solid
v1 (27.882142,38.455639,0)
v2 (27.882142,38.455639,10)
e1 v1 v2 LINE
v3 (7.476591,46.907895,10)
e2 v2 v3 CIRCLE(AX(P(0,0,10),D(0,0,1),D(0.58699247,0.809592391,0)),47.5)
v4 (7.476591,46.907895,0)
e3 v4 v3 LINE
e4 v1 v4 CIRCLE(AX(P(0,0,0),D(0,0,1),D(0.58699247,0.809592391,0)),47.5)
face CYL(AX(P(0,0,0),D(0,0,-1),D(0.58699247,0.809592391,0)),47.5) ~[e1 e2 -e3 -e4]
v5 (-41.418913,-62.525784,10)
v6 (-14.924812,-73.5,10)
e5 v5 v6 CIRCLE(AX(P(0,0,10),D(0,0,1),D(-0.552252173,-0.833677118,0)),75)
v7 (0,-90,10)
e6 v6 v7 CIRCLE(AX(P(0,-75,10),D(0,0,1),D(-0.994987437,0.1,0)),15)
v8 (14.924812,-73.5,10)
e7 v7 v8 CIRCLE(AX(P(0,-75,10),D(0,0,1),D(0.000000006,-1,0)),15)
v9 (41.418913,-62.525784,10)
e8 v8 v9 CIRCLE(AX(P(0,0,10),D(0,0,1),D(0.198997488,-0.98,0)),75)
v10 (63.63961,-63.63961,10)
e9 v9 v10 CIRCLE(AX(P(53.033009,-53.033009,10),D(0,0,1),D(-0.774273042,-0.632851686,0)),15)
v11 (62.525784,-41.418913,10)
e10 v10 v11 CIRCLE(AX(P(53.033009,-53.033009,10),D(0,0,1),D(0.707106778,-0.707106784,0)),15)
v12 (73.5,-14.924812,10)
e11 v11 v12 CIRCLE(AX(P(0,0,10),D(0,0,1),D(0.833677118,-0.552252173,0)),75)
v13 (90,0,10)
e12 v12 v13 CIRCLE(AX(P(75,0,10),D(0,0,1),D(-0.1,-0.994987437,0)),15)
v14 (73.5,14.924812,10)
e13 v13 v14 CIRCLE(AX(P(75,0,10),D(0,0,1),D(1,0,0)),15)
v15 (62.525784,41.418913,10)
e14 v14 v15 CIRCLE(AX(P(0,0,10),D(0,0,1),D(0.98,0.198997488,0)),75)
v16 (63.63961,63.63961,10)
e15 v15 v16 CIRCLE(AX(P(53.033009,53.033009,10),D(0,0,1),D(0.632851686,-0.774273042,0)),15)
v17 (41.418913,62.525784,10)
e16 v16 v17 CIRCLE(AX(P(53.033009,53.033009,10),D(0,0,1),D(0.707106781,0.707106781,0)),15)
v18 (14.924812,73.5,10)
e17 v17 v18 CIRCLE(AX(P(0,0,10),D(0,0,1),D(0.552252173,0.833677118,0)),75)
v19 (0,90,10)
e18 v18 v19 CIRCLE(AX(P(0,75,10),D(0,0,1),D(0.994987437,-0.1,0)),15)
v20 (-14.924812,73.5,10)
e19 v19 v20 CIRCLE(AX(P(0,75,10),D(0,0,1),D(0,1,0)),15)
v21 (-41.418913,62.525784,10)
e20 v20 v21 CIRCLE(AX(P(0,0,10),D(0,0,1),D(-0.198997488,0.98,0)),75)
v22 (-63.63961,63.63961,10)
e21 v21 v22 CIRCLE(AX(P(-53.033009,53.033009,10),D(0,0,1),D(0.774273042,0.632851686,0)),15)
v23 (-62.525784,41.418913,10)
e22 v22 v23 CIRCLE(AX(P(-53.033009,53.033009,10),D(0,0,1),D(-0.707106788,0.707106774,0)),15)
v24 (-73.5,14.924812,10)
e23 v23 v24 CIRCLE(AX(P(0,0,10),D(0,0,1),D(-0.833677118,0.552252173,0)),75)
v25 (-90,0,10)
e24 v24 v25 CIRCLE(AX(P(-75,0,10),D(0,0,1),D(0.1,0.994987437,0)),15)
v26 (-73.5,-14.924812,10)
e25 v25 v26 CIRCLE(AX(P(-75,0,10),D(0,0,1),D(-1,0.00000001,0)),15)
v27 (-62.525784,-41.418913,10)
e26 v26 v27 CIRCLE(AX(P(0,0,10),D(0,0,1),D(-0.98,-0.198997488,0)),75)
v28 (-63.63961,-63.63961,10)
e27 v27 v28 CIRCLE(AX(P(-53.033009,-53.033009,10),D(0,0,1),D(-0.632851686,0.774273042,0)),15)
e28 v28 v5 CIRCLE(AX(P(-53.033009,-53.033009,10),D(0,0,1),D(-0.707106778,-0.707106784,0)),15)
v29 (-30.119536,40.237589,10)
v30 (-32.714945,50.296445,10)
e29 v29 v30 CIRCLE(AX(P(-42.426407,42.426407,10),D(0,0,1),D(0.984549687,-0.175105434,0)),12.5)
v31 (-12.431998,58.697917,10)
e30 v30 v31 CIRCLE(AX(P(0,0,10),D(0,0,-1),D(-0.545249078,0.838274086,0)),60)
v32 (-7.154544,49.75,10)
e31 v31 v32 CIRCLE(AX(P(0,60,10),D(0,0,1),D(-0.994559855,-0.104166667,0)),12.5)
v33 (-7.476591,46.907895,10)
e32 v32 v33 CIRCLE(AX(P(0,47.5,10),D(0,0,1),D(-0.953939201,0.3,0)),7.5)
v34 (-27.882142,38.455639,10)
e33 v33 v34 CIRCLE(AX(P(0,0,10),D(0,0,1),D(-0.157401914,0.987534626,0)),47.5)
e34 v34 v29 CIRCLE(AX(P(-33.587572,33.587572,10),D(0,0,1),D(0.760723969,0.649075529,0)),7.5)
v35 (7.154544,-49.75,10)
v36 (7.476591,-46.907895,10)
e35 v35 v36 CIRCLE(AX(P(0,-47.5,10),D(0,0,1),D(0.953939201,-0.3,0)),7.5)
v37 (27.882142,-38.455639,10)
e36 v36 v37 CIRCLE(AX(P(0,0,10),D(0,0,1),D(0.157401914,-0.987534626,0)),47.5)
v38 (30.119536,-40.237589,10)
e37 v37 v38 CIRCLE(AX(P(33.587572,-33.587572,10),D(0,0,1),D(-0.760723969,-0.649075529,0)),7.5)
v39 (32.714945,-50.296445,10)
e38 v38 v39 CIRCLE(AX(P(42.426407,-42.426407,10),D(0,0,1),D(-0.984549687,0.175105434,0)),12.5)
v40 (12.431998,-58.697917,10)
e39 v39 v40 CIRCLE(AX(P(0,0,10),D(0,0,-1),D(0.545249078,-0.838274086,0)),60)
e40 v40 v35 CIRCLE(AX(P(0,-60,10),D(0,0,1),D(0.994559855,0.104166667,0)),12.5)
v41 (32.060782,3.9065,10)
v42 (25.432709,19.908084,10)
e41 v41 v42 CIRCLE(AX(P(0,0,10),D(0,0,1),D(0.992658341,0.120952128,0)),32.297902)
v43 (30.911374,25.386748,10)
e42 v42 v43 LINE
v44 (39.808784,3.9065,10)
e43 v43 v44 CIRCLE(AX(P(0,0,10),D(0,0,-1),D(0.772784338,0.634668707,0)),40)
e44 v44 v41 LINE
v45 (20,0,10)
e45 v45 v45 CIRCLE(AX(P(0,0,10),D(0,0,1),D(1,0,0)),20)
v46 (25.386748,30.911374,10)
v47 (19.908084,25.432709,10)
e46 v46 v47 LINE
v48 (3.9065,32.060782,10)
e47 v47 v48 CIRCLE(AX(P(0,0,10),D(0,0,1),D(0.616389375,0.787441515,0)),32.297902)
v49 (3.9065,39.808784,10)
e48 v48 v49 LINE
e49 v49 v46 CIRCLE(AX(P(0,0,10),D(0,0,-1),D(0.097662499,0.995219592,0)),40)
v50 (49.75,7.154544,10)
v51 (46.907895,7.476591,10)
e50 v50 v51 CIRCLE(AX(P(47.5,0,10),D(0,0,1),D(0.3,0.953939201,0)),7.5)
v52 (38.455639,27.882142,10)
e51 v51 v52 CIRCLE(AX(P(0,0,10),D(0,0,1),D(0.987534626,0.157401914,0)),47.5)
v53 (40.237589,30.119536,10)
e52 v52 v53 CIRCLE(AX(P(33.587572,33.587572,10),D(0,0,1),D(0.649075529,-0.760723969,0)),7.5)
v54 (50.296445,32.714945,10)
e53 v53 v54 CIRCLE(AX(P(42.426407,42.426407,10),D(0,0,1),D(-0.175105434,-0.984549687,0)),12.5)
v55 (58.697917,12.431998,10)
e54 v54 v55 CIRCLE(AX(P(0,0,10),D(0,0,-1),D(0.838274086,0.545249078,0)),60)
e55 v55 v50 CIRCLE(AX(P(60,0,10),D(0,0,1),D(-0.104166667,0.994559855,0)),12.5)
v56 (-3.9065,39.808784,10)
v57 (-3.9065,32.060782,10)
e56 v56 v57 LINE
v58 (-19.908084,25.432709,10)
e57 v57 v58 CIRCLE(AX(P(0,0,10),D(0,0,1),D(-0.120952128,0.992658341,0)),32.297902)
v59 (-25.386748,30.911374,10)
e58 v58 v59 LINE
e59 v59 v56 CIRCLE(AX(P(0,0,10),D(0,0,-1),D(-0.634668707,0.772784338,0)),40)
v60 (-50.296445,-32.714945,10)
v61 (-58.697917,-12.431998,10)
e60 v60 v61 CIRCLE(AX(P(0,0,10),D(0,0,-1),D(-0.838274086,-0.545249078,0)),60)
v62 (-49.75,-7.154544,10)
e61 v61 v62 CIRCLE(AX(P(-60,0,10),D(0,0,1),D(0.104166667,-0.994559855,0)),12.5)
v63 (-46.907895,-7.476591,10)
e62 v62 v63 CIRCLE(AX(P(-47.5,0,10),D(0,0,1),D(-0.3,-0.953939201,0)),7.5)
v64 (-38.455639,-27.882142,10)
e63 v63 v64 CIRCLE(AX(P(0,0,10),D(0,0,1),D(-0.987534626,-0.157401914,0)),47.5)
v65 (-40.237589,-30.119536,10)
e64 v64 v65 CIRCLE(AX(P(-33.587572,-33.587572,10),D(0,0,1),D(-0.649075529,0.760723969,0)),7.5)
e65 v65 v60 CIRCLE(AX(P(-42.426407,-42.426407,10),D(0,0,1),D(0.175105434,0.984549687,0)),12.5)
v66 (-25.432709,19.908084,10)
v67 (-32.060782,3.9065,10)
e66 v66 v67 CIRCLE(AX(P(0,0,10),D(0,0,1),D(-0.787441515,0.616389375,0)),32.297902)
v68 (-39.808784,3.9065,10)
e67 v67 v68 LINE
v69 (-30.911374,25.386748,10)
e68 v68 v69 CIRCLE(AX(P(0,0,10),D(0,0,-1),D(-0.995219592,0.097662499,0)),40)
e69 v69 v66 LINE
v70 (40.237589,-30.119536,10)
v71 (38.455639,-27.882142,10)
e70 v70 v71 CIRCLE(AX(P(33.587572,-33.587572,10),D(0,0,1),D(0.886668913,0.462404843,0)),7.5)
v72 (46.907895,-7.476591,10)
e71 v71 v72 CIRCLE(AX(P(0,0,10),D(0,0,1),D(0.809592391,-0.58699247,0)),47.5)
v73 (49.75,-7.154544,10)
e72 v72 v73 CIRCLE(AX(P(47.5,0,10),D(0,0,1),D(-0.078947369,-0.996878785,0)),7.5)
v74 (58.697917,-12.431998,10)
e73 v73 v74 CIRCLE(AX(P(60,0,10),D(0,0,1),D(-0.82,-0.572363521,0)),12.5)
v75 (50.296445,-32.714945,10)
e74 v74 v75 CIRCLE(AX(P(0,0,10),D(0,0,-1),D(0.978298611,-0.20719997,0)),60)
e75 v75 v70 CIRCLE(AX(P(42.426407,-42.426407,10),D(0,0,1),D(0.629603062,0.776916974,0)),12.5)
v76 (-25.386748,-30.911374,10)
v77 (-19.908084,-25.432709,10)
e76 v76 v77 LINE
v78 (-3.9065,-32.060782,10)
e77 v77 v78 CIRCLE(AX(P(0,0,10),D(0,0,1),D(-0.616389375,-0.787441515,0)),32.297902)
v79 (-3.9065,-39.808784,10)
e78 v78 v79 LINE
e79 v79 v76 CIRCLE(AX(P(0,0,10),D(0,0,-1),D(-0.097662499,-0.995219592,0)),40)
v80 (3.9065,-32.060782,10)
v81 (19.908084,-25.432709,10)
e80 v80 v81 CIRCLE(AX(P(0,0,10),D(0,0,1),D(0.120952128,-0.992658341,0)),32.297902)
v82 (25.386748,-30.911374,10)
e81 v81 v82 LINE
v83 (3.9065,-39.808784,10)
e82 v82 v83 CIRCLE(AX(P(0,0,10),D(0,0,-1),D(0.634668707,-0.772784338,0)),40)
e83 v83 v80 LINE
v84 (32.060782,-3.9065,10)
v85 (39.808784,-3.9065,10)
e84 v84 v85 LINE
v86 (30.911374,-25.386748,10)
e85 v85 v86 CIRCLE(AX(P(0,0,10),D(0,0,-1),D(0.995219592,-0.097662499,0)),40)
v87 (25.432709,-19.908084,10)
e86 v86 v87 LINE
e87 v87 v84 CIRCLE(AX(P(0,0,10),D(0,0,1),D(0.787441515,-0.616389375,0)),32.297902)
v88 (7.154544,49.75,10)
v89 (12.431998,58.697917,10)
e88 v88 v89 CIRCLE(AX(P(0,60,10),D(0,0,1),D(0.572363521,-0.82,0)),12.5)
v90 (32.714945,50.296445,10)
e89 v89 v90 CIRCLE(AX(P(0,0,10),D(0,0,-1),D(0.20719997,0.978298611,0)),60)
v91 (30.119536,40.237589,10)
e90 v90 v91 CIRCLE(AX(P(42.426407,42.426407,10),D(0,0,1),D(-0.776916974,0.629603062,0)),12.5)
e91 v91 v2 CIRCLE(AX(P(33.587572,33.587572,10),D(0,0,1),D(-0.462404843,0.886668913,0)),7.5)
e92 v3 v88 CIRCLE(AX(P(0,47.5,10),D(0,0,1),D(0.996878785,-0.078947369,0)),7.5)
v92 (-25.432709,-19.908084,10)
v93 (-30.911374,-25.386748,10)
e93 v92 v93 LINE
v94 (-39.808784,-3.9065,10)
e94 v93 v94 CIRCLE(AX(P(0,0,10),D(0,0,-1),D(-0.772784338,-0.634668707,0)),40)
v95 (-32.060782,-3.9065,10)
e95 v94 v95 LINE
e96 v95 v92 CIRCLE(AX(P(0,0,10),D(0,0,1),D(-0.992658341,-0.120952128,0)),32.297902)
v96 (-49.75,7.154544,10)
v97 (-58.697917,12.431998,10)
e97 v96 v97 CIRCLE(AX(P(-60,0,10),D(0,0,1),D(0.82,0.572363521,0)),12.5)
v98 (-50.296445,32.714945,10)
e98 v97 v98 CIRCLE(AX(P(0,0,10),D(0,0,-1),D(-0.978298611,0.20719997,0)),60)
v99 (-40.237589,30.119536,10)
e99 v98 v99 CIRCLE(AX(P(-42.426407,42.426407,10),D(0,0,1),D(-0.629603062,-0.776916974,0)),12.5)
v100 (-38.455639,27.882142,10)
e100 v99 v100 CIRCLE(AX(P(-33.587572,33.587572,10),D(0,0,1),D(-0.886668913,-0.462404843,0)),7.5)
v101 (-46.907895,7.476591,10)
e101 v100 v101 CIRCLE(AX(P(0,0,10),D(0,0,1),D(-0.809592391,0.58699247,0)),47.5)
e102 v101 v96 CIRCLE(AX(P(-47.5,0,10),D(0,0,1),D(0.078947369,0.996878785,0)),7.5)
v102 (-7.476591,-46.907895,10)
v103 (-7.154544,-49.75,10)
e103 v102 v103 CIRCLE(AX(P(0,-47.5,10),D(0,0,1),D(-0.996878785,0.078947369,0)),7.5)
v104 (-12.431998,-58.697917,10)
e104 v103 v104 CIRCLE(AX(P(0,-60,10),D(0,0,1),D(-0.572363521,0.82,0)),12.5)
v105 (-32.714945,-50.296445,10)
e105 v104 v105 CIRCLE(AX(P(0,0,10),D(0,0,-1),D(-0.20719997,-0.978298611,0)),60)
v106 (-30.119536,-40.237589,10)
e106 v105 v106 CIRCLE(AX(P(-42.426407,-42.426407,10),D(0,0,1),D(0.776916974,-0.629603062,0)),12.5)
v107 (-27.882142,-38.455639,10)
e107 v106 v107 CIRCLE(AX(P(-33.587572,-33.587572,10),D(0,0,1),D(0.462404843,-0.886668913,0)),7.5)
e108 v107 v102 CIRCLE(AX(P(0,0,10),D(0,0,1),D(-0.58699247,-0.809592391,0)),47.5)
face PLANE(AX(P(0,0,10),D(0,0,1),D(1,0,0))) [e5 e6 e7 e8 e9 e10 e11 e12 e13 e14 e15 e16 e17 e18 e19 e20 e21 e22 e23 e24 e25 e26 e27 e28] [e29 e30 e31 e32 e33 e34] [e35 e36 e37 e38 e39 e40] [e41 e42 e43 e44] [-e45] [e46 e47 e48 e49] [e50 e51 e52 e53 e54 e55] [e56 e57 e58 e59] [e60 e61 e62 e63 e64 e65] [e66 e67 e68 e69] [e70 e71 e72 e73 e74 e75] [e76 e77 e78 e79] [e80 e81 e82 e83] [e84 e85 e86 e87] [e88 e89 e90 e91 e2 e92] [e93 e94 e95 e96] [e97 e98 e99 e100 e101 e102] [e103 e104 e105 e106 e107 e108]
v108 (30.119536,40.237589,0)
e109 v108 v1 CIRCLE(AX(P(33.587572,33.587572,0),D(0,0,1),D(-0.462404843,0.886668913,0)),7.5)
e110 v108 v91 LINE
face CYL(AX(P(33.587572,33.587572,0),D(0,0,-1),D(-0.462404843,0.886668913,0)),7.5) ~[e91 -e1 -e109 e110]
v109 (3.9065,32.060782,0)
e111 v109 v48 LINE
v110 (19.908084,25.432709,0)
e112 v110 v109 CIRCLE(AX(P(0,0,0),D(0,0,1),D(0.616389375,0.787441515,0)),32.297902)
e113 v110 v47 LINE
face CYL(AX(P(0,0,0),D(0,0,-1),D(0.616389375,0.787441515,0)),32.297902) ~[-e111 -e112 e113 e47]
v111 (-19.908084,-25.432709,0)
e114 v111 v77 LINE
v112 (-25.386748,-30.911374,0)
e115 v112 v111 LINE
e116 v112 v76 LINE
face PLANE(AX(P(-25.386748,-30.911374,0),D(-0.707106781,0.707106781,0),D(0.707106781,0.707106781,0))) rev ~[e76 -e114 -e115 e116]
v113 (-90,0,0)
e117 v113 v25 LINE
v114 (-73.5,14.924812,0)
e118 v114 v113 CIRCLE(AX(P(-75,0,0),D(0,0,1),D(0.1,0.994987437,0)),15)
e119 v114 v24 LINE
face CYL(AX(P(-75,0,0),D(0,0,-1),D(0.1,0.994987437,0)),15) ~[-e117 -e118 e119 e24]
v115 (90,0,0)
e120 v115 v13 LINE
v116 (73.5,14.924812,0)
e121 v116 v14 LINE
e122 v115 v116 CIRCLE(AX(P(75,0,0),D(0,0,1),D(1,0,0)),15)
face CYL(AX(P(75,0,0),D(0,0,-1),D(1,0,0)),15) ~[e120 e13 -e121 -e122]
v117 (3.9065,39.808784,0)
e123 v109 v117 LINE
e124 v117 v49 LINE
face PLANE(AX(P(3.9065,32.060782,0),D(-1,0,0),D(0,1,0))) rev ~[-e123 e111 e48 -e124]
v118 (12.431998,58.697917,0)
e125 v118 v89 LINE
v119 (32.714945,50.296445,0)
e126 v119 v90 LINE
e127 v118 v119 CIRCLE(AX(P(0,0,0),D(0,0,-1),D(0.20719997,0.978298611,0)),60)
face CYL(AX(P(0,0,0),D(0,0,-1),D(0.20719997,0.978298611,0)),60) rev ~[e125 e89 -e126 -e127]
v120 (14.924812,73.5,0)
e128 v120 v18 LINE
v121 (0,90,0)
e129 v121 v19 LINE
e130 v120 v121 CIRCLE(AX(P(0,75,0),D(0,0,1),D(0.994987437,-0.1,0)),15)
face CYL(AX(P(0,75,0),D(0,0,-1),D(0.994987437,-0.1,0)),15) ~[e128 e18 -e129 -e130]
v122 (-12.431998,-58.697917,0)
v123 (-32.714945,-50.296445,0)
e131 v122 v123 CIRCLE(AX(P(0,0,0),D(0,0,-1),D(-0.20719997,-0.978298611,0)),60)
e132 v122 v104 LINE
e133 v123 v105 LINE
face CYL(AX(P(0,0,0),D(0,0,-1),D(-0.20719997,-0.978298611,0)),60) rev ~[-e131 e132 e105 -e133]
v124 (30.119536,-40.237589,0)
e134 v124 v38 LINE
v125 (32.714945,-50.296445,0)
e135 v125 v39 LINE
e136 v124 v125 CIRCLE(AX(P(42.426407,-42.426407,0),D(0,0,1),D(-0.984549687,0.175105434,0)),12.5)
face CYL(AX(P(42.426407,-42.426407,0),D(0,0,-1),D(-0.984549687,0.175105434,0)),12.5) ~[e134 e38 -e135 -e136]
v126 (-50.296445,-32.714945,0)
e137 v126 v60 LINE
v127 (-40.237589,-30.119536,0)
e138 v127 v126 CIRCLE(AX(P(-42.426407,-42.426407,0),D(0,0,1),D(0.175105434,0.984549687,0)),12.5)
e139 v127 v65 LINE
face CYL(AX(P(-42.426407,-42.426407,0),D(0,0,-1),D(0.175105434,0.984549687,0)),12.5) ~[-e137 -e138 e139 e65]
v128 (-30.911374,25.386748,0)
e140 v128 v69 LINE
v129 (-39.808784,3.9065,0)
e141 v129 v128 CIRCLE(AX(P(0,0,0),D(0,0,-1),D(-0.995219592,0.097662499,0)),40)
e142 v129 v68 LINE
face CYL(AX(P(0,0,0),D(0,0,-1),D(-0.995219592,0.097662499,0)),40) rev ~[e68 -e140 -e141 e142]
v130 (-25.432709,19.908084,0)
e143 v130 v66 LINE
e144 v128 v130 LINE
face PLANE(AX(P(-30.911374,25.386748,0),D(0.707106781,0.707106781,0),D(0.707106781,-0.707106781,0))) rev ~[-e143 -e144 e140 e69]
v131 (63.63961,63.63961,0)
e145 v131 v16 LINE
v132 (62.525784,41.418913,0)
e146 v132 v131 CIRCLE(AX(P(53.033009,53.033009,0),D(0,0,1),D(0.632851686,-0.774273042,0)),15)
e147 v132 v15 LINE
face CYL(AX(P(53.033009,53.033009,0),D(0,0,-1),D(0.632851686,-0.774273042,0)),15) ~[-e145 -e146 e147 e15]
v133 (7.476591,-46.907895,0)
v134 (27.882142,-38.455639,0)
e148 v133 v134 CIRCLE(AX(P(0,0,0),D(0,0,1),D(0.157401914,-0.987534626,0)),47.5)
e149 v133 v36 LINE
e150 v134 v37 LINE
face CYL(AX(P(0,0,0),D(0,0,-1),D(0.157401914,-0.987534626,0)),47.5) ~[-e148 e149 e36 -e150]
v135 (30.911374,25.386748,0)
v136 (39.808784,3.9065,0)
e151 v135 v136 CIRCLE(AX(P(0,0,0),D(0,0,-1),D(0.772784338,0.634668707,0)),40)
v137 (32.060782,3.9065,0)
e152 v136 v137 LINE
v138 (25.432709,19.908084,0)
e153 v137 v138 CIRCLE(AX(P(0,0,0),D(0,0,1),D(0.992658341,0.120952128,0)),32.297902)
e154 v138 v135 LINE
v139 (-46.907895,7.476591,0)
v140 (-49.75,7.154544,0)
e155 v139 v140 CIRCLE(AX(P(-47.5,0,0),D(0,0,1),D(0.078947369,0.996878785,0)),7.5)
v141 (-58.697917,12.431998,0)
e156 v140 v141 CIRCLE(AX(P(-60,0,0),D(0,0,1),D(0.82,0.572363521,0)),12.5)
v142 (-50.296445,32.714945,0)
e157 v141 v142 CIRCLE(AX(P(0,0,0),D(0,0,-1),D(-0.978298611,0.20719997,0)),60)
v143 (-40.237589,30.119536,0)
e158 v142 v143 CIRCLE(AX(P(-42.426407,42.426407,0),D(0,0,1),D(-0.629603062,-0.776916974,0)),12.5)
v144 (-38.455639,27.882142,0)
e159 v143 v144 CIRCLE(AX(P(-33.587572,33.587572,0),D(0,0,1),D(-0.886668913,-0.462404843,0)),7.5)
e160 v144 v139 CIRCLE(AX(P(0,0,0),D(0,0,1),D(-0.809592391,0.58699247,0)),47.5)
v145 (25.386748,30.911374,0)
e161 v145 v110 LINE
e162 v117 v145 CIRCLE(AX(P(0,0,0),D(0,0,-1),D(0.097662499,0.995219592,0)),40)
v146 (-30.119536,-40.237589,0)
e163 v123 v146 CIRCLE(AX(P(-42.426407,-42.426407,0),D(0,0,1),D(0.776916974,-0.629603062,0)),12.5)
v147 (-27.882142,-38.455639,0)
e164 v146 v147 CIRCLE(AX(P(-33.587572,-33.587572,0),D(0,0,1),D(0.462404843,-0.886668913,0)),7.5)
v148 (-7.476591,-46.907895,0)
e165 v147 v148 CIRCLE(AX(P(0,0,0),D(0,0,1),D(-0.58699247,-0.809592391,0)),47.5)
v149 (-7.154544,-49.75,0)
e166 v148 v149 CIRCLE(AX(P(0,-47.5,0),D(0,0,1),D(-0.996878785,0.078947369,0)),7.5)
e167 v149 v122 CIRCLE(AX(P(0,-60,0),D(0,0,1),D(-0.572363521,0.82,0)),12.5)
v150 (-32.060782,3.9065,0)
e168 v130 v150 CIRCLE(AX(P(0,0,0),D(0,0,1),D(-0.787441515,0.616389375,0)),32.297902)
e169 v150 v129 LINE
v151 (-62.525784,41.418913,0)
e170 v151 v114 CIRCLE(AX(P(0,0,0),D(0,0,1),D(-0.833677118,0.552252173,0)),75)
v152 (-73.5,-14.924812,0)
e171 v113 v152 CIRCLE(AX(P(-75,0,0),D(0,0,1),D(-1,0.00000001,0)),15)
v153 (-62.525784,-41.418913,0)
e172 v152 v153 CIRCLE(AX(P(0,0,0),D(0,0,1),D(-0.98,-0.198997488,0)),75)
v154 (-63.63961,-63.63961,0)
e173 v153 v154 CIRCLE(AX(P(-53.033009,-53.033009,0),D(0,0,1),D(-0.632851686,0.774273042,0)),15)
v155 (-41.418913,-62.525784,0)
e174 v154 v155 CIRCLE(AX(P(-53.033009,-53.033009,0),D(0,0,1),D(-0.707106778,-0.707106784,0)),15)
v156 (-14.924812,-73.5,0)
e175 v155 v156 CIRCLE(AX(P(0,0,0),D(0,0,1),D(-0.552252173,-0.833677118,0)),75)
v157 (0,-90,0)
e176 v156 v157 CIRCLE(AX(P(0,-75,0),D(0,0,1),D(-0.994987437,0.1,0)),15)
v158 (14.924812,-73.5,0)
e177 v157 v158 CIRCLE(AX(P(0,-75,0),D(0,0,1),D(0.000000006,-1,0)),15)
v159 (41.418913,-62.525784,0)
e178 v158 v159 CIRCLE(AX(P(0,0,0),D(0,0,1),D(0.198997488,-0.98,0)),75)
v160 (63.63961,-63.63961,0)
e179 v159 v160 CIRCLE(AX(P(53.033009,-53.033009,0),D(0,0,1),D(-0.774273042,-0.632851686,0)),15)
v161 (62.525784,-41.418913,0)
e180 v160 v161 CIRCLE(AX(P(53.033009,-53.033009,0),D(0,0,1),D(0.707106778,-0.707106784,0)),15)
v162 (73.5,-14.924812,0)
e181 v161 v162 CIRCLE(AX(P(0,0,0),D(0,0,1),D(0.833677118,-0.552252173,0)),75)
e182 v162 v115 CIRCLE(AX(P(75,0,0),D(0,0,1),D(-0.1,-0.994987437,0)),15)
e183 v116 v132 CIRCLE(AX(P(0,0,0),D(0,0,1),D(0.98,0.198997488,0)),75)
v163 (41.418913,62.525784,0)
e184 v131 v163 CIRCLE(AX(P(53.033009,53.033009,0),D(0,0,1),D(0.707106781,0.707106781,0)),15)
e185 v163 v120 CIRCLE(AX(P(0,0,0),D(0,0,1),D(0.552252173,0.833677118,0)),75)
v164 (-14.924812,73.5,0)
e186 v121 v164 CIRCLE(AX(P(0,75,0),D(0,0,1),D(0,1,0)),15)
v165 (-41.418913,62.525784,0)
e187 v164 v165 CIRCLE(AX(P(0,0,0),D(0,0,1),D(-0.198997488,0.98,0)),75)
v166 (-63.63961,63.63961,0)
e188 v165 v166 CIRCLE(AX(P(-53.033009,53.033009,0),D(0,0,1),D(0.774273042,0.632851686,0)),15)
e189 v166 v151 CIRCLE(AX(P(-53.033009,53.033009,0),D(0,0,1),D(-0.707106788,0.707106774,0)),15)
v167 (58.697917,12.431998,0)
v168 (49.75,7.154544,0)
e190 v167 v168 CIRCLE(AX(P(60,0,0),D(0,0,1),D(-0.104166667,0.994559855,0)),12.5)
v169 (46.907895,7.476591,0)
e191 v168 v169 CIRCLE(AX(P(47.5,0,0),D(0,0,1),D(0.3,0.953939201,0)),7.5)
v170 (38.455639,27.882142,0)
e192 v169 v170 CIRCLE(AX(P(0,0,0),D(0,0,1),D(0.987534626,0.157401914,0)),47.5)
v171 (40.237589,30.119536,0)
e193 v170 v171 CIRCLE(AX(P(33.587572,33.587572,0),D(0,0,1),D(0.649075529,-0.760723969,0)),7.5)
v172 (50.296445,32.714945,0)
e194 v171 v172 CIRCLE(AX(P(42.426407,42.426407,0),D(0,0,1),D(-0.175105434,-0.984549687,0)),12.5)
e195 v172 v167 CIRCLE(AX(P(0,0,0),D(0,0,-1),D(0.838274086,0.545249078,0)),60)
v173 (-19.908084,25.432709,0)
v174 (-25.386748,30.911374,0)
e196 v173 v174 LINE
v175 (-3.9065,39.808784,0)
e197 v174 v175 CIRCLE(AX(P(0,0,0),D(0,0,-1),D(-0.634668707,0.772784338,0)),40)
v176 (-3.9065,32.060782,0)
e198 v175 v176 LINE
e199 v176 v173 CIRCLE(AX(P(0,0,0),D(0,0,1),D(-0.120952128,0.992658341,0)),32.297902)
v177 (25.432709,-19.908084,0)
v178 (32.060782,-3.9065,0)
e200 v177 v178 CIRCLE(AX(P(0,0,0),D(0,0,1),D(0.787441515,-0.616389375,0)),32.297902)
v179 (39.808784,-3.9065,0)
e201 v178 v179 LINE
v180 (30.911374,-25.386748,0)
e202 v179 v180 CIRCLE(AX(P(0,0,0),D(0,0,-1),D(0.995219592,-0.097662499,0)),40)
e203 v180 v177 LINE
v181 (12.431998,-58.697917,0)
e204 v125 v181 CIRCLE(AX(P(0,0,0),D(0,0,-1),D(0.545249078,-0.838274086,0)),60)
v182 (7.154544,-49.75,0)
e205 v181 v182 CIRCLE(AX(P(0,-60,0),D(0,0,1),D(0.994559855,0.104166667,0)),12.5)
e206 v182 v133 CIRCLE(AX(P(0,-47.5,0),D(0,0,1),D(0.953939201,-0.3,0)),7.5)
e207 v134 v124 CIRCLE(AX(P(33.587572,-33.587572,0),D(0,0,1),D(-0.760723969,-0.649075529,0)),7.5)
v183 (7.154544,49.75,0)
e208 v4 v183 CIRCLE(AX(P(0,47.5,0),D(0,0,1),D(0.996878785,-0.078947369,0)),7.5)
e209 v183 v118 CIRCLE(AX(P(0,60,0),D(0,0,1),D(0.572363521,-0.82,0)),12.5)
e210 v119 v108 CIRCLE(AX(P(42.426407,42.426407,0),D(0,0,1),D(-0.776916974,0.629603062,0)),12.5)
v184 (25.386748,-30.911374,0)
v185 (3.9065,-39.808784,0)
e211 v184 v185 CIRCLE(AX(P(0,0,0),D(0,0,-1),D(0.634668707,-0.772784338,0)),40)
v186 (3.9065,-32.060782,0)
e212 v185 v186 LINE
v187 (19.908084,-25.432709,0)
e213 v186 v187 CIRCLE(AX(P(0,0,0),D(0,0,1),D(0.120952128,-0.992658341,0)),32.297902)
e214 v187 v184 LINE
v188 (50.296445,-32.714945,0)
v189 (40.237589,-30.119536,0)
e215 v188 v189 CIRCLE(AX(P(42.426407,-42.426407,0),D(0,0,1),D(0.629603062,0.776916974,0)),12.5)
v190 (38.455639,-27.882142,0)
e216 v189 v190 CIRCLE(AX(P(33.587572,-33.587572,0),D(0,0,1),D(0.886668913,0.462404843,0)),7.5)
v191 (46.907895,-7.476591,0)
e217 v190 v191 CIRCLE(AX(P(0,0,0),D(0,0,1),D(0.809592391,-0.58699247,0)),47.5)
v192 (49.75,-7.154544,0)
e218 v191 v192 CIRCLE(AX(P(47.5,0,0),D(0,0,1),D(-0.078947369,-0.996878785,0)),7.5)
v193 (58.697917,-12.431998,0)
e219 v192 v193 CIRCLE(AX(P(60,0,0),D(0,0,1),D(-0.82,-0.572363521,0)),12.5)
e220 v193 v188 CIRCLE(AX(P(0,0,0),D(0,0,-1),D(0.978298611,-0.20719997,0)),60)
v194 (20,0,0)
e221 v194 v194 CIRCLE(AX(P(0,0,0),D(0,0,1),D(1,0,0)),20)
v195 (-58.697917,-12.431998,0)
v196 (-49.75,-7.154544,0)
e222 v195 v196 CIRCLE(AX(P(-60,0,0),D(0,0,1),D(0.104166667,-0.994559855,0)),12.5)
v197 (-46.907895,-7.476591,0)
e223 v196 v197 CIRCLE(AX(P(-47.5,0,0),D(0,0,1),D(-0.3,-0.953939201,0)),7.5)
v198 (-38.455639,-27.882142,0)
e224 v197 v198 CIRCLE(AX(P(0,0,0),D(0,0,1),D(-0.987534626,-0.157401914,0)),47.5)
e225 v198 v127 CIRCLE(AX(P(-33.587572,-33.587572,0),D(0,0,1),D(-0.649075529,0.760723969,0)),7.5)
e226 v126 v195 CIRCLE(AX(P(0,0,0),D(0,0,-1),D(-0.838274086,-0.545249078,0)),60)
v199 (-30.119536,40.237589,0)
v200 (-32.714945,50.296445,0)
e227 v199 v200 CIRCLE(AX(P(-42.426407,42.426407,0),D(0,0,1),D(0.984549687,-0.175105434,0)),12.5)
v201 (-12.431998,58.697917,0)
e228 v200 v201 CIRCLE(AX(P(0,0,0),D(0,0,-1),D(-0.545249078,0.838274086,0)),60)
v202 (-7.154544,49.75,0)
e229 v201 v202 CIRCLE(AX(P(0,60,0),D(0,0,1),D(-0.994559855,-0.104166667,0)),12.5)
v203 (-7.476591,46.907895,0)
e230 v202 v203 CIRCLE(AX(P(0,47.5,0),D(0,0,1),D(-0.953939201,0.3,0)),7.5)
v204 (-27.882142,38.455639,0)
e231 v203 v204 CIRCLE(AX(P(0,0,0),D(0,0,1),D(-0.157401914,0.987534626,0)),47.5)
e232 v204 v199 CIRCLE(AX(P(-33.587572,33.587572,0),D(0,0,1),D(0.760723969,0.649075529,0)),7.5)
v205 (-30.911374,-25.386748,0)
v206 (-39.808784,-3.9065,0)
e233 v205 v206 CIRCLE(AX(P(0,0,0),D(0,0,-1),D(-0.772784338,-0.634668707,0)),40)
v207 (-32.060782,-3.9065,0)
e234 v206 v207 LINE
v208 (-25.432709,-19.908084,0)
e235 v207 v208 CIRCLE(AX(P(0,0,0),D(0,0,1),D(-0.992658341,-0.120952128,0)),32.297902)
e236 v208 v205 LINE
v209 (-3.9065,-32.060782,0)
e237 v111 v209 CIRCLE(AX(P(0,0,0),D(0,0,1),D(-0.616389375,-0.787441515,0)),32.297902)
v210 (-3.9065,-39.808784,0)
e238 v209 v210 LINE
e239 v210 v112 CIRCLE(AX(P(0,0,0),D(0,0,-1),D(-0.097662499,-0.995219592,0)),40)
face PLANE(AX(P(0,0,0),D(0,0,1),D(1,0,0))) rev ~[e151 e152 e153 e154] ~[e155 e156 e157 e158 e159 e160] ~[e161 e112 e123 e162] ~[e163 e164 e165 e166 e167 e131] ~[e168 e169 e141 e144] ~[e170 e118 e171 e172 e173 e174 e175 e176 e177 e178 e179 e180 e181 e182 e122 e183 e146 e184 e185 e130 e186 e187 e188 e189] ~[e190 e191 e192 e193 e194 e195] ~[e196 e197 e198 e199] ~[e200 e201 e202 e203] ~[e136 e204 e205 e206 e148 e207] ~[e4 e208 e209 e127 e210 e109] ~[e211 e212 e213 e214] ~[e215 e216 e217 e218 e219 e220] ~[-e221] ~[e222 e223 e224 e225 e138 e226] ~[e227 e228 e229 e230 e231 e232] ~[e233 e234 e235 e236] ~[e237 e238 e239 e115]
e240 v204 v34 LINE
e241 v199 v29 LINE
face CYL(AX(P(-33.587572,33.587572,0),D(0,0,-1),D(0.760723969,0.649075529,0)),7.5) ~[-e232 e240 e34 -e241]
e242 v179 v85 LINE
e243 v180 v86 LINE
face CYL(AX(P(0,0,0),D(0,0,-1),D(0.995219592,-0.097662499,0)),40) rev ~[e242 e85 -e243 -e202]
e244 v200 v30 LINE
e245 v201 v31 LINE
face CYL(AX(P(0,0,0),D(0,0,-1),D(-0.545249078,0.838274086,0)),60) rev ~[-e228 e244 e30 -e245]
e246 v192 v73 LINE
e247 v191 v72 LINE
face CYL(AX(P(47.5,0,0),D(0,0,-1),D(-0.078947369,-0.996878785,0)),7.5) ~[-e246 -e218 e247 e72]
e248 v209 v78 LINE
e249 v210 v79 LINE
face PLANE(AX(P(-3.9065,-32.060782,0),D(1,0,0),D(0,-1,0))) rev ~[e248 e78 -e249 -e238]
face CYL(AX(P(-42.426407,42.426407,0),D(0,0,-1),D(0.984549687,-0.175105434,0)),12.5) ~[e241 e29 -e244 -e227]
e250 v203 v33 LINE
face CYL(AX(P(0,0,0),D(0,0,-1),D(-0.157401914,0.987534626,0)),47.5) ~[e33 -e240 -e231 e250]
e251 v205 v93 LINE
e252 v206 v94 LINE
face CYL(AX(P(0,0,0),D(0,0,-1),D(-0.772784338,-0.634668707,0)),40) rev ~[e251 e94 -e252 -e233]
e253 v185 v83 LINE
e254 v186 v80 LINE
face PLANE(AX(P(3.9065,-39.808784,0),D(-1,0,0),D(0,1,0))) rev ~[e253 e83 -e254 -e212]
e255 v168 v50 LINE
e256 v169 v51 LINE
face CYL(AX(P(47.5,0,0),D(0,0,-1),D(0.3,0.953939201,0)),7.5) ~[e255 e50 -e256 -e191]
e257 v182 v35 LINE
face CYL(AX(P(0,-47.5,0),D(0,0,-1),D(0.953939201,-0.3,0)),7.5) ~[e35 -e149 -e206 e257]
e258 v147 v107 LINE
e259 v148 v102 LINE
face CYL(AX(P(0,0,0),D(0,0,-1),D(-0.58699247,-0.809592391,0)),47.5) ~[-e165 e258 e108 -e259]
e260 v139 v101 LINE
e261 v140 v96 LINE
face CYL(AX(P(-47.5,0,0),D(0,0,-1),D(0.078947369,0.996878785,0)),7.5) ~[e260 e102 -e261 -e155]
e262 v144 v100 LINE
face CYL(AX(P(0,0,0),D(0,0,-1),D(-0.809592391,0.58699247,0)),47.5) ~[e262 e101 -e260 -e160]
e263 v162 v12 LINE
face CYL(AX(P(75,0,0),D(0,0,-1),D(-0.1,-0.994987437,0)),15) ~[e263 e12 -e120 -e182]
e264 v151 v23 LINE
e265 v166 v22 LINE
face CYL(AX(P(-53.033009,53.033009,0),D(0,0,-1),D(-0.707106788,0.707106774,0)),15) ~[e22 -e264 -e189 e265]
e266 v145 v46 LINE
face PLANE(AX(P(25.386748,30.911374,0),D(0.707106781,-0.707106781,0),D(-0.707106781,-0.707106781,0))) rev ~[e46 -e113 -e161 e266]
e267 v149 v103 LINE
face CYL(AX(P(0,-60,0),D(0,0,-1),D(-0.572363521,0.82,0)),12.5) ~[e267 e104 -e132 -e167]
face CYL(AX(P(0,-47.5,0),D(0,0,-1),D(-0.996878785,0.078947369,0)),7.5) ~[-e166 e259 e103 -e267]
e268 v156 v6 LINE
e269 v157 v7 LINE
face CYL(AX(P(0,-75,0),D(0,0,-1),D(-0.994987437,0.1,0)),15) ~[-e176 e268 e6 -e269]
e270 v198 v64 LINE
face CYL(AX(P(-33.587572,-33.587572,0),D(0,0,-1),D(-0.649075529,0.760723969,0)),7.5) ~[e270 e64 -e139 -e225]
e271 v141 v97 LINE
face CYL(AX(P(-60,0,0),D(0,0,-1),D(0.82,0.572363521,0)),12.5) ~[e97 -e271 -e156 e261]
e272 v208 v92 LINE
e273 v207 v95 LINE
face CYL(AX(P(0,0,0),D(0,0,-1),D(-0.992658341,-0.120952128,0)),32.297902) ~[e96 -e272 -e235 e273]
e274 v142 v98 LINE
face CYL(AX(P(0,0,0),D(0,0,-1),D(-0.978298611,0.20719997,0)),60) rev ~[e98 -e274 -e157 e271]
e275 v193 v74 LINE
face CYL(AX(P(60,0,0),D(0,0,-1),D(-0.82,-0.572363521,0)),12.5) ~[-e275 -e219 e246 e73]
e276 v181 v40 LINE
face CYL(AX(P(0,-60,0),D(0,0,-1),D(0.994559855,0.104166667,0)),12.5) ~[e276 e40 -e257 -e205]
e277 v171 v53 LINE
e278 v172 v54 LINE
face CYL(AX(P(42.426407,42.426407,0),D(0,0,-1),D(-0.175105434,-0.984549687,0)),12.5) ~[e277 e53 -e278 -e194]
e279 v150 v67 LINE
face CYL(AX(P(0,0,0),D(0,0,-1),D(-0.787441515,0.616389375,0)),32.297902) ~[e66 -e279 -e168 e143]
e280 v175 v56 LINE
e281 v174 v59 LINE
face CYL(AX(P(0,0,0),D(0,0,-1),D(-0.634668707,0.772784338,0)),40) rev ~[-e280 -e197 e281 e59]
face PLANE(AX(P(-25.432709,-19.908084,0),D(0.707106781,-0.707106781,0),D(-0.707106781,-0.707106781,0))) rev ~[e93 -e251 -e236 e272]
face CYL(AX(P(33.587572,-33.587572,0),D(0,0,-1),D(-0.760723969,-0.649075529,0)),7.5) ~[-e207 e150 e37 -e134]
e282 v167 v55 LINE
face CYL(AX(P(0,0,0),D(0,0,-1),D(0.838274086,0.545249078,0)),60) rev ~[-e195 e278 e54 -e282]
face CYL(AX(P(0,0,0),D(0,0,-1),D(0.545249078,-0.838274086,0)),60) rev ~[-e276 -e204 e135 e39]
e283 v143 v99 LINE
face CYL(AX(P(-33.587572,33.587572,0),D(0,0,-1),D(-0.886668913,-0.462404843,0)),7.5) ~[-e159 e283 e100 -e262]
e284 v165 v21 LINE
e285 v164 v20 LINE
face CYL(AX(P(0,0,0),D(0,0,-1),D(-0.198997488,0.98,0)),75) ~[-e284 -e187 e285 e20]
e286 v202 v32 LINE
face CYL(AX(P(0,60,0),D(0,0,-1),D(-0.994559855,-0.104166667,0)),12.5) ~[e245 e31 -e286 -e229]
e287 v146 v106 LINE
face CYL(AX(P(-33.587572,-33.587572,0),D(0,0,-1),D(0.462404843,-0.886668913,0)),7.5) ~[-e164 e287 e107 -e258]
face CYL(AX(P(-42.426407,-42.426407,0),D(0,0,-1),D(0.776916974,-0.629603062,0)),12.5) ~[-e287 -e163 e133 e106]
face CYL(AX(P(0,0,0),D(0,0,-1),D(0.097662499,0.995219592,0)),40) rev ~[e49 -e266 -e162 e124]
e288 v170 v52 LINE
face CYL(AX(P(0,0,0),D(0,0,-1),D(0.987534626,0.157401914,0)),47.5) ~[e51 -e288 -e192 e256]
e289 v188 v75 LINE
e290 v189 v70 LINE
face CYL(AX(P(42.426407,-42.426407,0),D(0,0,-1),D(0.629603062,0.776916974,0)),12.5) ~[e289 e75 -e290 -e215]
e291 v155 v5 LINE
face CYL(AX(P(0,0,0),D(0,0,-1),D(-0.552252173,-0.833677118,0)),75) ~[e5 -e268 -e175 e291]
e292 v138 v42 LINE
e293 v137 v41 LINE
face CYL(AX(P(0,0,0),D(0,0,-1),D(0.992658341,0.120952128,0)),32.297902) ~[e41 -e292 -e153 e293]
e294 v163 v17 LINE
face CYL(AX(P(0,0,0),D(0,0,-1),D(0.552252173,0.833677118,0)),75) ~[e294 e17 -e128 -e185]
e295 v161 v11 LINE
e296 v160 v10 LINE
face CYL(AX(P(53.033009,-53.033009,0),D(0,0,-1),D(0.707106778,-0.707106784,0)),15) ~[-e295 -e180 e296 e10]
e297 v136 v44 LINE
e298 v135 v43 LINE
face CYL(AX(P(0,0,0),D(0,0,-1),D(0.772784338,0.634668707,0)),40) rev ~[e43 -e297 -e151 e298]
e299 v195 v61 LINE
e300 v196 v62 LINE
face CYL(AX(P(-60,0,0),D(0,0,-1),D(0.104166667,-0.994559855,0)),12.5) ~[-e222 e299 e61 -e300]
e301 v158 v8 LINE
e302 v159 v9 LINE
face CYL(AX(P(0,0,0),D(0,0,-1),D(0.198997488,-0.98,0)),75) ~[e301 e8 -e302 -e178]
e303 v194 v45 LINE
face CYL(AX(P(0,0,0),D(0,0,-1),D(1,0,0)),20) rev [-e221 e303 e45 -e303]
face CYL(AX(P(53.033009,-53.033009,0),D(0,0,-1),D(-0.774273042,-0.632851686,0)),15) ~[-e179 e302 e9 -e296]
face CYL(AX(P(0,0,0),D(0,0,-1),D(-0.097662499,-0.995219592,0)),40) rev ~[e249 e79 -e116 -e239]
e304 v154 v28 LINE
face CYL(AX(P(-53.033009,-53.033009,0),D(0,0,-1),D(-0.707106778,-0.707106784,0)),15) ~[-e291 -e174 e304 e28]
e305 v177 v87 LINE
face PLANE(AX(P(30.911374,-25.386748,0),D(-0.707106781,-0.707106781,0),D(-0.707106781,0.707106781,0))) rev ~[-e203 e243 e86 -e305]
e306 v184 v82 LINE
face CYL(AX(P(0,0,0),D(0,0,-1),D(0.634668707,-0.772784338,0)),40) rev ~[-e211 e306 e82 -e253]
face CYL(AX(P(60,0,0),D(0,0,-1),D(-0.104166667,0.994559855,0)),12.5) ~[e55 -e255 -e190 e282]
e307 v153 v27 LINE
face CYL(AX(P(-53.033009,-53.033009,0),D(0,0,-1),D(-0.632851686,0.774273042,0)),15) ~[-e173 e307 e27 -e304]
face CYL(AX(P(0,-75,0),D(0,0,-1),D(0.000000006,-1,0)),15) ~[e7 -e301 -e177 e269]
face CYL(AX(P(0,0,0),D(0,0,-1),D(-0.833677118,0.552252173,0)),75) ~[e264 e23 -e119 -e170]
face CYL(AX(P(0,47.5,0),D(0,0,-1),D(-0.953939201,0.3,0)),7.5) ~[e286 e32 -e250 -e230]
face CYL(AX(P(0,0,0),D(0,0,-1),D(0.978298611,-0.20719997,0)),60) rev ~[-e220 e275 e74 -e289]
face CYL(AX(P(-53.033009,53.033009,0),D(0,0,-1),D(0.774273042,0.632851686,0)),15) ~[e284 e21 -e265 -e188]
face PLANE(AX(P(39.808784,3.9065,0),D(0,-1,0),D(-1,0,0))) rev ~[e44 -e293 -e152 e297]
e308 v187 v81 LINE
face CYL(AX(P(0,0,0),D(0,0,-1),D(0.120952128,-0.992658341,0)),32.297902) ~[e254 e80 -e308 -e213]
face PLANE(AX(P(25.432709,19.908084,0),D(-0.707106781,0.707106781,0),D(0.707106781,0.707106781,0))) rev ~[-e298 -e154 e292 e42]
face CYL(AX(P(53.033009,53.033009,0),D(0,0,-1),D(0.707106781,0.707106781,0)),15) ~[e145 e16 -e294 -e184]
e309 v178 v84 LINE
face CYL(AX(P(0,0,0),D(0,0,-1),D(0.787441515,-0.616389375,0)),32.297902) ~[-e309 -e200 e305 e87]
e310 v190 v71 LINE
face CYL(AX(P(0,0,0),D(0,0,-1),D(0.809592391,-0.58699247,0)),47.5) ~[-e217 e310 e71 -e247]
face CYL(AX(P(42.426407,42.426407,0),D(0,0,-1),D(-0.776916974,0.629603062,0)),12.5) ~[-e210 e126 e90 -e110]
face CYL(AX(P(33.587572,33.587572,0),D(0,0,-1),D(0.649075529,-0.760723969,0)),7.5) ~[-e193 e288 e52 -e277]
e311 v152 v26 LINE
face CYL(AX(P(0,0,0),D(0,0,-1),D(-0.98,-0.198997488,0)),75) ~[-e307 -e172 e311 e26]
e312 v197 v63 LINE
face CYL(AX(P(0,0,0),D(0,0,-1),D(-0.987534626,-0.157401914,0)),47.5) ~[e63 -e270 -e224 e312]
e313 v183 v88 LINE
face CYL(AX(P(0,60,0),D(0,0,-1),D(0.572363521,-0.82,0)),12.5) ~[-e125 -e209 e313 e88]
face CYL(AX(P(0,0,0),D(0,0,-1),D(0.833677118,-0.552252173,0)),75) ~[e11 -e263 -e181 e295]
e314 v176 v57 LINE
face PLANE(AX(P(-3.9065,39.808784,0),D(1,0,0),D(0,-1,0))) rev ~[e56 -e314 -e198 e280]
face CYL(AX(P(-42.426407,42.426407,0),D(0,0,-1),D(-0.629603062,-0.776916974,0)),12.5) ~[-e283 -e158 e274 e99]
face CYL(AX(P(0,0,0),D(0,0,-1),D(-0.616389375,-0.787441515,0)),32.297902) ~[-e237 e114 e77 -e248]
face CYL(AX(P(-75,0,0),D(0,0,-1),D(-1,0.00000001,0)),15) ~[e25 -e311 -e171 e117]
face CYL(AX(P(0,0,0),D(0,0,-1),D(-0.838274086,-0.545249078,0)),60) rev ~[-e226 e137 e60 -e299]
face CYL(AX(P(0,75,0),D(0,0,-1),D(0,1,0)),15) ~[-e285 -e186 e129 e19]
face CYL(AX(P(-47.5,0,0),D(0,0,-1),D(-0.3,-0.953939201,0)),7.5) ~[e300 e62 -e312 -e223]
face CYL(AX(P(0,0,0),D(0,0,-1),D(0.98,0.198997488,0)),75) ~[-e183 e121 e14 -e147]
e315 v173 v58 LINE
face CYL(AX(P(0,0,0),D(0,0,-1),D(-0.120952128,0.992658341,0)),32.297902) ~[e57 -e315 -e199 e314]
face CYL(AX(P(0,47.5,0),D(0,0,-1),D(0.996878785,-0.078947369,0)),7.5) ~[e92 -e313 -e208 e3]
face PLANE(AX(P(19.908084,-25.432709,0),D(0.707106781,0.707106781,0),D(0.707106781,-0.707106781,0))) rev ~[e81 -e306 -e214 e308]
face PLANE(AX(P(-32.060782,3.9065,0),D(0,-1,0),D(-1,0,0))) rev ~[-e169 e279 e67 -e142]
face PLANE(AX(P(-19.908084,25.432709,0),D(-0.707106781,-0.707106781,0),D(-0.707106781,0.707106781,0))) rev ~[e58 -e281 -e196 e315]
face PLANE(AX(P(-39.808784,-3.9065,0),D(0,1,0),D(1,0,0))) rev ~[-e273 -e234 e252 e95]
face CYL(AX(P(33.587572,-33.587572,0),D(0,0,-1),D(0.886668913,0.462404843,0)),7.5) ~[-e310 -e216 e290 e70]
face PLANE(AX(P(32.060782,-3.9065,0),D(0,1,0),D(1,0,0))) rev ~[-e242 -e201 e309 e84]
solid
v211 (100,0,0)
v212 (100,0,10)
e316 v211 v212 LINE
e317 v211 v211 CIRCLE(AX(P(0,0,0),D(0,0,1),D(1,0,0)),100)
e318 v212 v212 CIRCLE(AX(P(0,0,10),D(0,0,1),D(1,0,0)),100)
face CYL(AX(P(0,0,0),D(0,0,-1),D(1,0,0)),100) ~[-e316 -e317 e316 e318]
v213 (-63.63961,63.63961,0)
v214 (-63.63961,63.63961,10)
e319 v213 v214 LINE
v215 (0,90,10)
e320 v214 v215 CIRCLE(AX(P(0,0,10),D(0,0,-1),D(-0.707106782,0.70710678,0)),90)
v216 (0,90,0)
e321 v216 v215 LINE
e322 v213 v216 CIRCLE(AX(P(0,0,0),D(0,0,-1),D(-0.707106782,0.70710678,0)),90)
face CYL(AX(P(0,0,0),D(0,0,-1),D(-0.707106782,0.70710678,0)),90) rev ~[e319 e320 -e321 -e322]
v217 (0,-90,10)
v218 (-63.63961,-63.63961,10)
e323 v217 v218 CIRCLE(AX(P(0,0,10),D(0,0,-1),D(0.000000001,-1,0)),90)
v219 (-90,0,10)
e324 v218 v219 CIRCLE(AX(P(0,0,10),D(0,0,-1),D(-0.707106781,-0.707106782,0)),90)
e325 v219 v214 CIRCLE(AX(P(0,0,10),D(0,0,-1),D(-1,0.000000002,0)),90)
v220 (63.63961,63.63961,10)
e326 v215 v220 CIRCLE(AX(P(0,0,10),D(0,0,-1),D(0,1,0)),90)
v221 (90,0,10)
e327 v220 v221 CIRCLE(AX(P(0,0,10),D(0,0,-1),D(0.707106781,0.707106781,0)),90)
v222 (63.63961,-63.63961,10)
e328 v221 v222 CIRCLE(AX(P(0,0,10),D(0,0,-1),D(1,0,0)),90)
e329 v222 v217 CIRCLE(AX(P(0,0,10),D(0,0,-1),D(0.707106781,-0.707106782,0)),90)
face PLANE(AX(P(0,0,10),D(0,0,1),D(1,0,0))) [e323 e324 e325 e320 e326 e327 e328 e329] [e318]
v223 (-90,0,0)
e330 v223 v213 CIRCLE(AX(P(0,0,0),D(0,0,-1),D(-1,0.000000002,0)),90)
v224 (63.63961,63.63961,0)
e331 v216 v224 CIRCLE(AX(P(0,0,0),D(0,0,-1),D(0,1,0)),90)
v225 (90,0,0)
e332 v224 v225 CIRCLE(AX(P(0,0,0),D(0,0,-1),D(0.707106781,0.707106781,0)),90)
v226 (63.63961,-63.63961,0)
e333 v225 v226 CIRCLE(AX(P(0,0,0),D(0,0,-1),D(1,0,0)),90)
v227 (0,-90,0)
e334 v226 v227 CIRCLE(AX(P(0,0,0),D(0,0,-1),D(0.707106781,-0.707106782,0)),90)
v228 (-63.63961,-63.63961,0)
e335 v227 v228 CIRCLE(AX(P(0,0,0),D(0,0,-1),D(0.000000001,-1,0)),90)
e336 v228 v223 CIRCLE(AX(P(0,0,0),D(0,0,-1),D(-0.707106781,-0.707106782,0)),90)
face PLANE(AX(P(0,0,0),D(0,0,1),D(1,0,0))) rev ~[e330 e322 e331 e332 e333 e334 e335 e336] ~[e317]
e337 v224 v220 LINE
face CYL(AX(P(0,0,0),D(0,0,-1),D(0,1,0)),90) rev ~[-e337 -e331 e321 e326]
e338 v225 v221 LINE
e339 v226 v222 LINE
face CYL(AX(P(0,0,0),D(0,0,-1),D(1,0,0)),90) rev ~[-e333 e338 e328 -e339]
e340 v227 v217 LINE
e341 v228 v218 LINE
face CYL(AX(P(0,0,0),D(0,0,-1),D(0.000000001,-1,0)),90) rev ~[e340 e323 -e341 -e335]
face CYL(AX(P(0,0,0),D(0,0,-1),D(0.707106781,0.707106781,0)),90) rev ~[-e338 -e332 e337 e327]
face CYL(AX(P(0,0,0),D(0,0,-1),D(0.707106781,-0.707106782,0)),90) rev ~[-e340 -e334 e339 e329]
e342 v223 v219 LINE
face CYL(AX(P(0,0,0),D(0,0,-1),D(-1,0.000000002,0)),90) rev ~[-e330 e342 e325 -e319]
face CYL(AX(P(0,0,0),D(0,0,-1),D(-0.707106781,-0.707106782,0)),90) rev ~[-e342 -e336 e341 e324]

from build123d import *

# Parameters (mm, degrees)
SKETCH1_R             = 20
BOSS_EXTRUDE1_DEPTH   = 10
SKETCH1_R_2           = 100
BOSS_EXTRUDE1_2_DEPTH = 10


with BuildPart() as part:
    # Sketch1 → Boss-Extrude1 (new body)
    with BuildSketch(Plane.XY):
        with BuildLine():
            ThreePointArc((-62.525783877, -41.418912958), (-68.014199687, -52.282066996), (-63.639610261, -63.639610353))
            ThreePointArc((-63.639610261, -63.639610353), (-52.28206693, -68.014199684), (-41.418912958, -62.525783877))
            ThreePointArc((-41.418912958, -62.525783877), (-28.701257427, -69.290964938), (-14.924811557, -73.5))
            ThreePointArc((-14.924811557, -73.5), (-11.124297699, -85.062305934), (9.4e-08, -90))
            ThreePointArc((9.4e-08, -90), (11.124297762, -85.062305864), (14.924811557, -73.5))
            ThreePointArc((14.924811557, -73.5), (28.701257427, -69.290964938), (41.418912958, -62.525783877))
            ThreePointArc((41.418912958, -62.525783877), (52.282066931, -68.014199684), (63.639610262, -63.639610352))
            ThreePointArc((63.639610262, -63.639610352), (68.014199687, -52.282066995), (62.525783877, -41.418912958))
            ThreePointArc((62.525783877, -41.418912958), (69.290964938, -28.701257427), (73.5, -14.924811557))
            ThreePointArc((73.5, -14.924811557), (85.062305899, -11.124297731), (90, 0))
            ThreePointArc((90, 0), (85.062305899, 11.124297731), (73.5, 14.924811557))
            ThreePointArc((73.5, 14.924811557), (69.290964938, 28.701257427), (62.525783877, 41.418912958))
            ThreePointArc((62.525783877, 41.418912958), (68.014199686, 52.282066963), (63.639610307, 63.639610307))
            ThreePointArc((63.639610307, 63.639610307), (52.282066963, 68.014199686), (41.418912958, 62.525783877))
            ThreePointArc((41.418912958, 62.525783877), (28.701257427, 69.290964938), (14.924811557, 73.5))
            ThreePointArc((14.924811557, 73.5), (11.124297731, 85.062305899), (0, 90))
            ThreePointArc((0, 90), (-11.124297731, 85.062305899), (-14.924811557, 73.5))
            ThreePointArc((-14.924811557, 73.5), (-28.701257427, 69.290964938), (-41.418912958, 62.525783877))
            ThreePointArc((-41.418912958, 62.525783877), (-52.282067039, 68.014199689), (-63.639610415, 63.639610199))
            ThreePointArc((-63.639610415, 63.639610199), (-68.014199682, 52.282066887), (-62.525783877, 41.418912958))
            ThreePointArc((-62.525783877, 41.418912958), (-69.290964938, 28.701257427), (-73.5, 14.924811557))
            ThreePointArc((-73.5, 14.924811557), (-85.062305842, 11.124297782), (-90, 1.52e-07))
            ThreePointArc((-90, 1.52e-07), (-85.062305955, -11.12429768), (-73.5, -14.924811557))
            ThreePointArc((-73.5, -14.924811557), (-69.290964938, -28.701257427), (-62.525783877, -41.418912958))
        make_face()
        with BuildLine():
            ThreePointArc((-46.907894737, -7.476590891), (-43.884277794, -18.177463037), (-38.455638579, -27.88214234))
            ThreePointArc((-38.455638579, -27.88214234), (-39.454261392, -28.915104147), (-40.23758895, -30.119535778))
            ThreePointArc((-40.23758895, -30.119535778), (-45.549402712, -30.32281662), (-50.29644514, -32.714944693))
            ThreePointArc((-50.29644514, -32.714944693), (-55.432771951, -22.961005942), (-58.697916667, -12.43199819))
            ThreePointArc((-58.697916667, -12.43199819), (-53.649760793, -10.76682228), (-49.75, -7.154544011))
            ThreePointArc((-49.75, -7.154544011), (-48.344441998, -7.452309556), (-46.907894737, -7.476590891))
        make_face(mode=Mode.SUBTRACT)
        with BuildLine():
            ThreePointArc((58.697916667, 12.43199819), (53.649760793, 10.76682228), (49.75, 7.154544011))
            ThreePointArc((49.75, 7.154544011), (48.344441998, 7.452309556), (46.907894737, 7.476590891))
            ThreePointArc((46.907894737, 7.476590891), (43.884277794, 18.177463037), (38.455638579, 27.88214234))
            ThreePointArc((38.455638579, 27.88214234), (39.454261392, 28.915104147), (40.23758895, 30.119535778))
            ThreePointArc((40.23758895, 30.119535778), (45.549402712, 30.32281662), (50.29644514, 32.714944693))
            ThreePointArc((50.29644514, 32.714944693), (55.432771951, 22.961005942), (58.697916667, 12.43199819))
        make_face(mode=Mode.SUBTRACT)
        with BuildLine():
            Line((39.808783679, 3.906499965), (32.060781687, 3.906499965))
            ThreePointArc((32.060781687, 3.906499965), (29.839370469, 12.359871941), (25.432708758, 19.908083525))
            Line((25.432708758, 19.908083525), (30.911373507, 25.386748274))
            ThreePointArc((30.911373507, 25.386748274), (36.9551813, 15.307337295), (39.808783679, 3.906499965))
        make_face(mode=Mode.SUBTRACT)
        with BuildLine():
            ThreePointArc((32.714944693, 50.29644514), (30.32281662, 45.549402712), (30.119535778, 40.23758895))
            ThreePointArc((30.119535778, 40.23758895), (28.915104147, 39.454261392), (27.88214234, 38.455638579))
            ThreePointArc((27.88214234, 38.455638579), (18.177463037, 43.884277794), (7.476590891, 46.907894737))
            ThreePointArc((7.476590891, 46.907894737), (7.452309556, 48.344441998), (7.154544011, 49.75))
            ThreePointArc((7.154544011, 49.75), (10.76682228, 53.649760793), (12.43199819, 58.697916667))
            ThreePointArc((12.43199819, 58.697916667), (22.961005942, 55.432771951), (32.714944693, 50.29644514))
        make_face(mode=Mode.SUBTRACT)
        with BuildLine():
            ThreePointArc((50.29644514, -32.714944693), (45.549402712, -30.32281662), (40.23758895, -30.119535778))
            ThreePointArc((40.23758895, -30.119535778), (39.454261392, -28.915104147), (38.455638579, -27.88214234))
            ThreePointArc((38.455638579, -27.88214234), (43.884277794, -18.177463037), (46.907894737, -7.476590891))
            ThreePointArc((46.907894737, -7.476590891), (48.344441998, -7.452309556), (49.75, -7.154544011))
            ThreePointArc((49.75, -7.154544011), (53.649760793, -10.76682228), (58.697916667, -12.43199819))
            ThreePointArc((58.697916667, -12.43199819), (55.432771951, -22.961005942), (50.29644514, -32.714944693))
        make_face(mode=Mode.SUBTRACT)
        with BuildLine():
            ThreePointArc((-12.43199819, 58.697916667), (-10.76682228, 53.649760793), (-7.154544011, 49.75))
            ThreePointArc((-7.154544011, 49.75), (-7.452309556, 48.344441998), (-7.476590891, 46.907894737))
            ThreePointArc((-7.476590891, 46.907894737), (-18.177463037, 43.884277794), (-27.88214234, 38.455638579))
            ThreePointArc((-27.88214234, 38.455638579), (-28.915104147, 39.454261392), (-30.119535778, 40.23758895))
            ThreePointArc((-30.119535778, 40.23758895), (-30.32281662, 45.549402712), (-32.714944693, 50.29644514))
            ThreePointArc((-32.714944693, 50.29644514), (-22.961005942, 55.432771951), (-12.43199819, 58.697916667))
        make_face(mode=Mode.SUBTRACT)
        with BuildLine():
            ThreePointArc((19.908083525, 25.432708758), (12.359871941, 29.839370469), (3.906499965, 32.060781687))
            Line((3.906499965, 32.060781687), (3.906499965, 39.808783679))
            ThreePointArc((3.906499965, 39.808783679), (15.307337295, 36.9551813), (25.386748274, 30.911373507))
            Line((25.386748274, 30.911373507), (19.908083525, 25.432708758))
        make_face(mode=Mode.SUBTRACT)
        with BuildLine():
            ThreePointArc((12.43199819, -58.697916667), (10.76682228, -53.649760793), (7.154544011, -49.75))
            ThreePointArc((7.154544011, -49.75), (7.452309556, -48.344441998), (7.476590891, -46.907894737))
            ThreePointArc((7.476590891, -46.907894737), (18.177463037, -43.884277794), (27.88214234, -38.455638579))
            ThreePointArc((27.88214234, -38.455638579), (28.915104147, -39.454261392), (30.119535778, -40.23758895))
            ThreePointArc((30.119535778, -40.23758895), (30.32281662, -45.549402712), (32.714944693, -50.29644514))
            ThreePointArc((32.714944693, -50.29644514), (22.961005942, -55.432771951), (12.43199819, -58.697916667))
        make_face(mode=Mode.SUBTRACT)
        with BuildLine():
            ThreePointArc((-50.29644514, 32.714944693), (-45.549402712, 30.32281662), (-40.23758895, 30.119535778))
            ThreePointArc((-40.23758895, 30.119535778), (-39.454261392, 28.915104147), (-38.455638579, 27.88214234))
            ThreePointArc((-38.455638579, 27.88214234), (-43.884277794, 18.177463037), (-46.907894737, 7.476590891))
            ThreePointArc((-46.907894737, 7.476590891), (-48.344441998, 7.452309556), (-49.75, 7.154544011))
            ThreePointArc((-49.75, 7.154544011), (-53.649760793, 10.76682228), (-58.697916667, 12.43199819))
            ThreePointArc((-58.697916667, 12.43199819), (-55.432771951, 22.961005942), (-50.29644514, 32.714944693))
        make_face(mode=Mode.SUBTRACT)
        with BuildLine():
            ThreePointArc((39.808783679, -3.906499965), (36.9551813, -15.307337295), (30.911373507, -25.386748274))
            Line((30.911373507, -25.386748274), (25.432708758, -19.908083525))
            ThreePointArc((25.432708758, -19.908083525), (29.839370469, -12.359871941), (32.060781687, -3.906499965))
            Line((32.060781687, -3.906499965), (39.808783679, -3.906499965))
        make_face(mode=Mode.SUBTRACT)
        with BuildLine():
            ThreePointArc((-32.714944693, -50.29644514), (-30.32281662, -45.549402712), (-30.119535778, -40.23758895))
            ThreePointArc((-30.119535778, -40.23758895), (-28.915104147, -39.454261392), (-27.88214234, -38.455638579))
            ThreePointArc((-27.88214234, -38.455638579), (-18.177463037, -43.884277794), (-7.476590891, -46.907894737))
            ThreePointArc((-7.476590891, -46.907894737), (-7.452309556, -48.344441998), (-7.154544011, -49.75))
            ThreePointArc((-7.154544011, -49.75), (-10.76682228, -53.649760793), (-12.43199819, -58.697916667))
            ThreePointArc((-12.43199819, -58.697916667), (-22.961005942, -55.432771951), (-32.714944693, -50.29644514))
        make_face(mode=Mode.SUBTRACT)
        with BuildLine():
            ThreePointArc((-3.906499965, 32.060781687), (-12.359871941, 29.839370469), (-19.908083525, 25.432708758))
            Line((-19.908083525, 25.432708758), (-25.386748274, 30.911373507))
            ThreePointArc((-25.386748274, 30.911373507), (-15.307337295, 36.9551813), (-3.906499965, 39.808783679))
            Line((-3.906499965, 39.808783679), (-3.906499965, 32.060781687))
        make_face(mode=Mode.SUBTRACT)
        with BuildLine():
            ThreePointArc((25.386748274, -30.911373507), (15.307337295, -36.9551813), (3.906499965, -39.808783679))
            Line((3.906499965, -39.808783679), (3.906499965, -32.060781687))
            ThreePointArc((3.906499965, -32.060781687), (12.359871941, -29.839370469), (19.908083525, -25.432708758))
            Line((19.908083525, -25.432708758), (25.386748274, -30.911373507))
        make_face(mode=Mode.SUBTRACT)
        with BuildLine():
            ThreePointArc((-25.432708758, 19.908083525), (-29.839370469, 12.359871941), (-32.060781687, 3.906499965))
            Line((-32.060781687, 3.906499965), (-39.808783679, 3.906499965))
            ThreePointArc((-39.808783679, 3.906499965), (-36.9551813, 15.307337295), (-30.911373507, 25.386748274))
            Line((-30.911373507, 25.386748274), (-25.432708758, 19.908083525))
        make_face(mode=Mode.SUBTRACT)
        with BuildLine():
            ThreePointArc((-3.906499965, -39.808783679), (-15.307337295, -36.9551813), (-25.386748274, -30.911373507))
            Line((-25.386748274, -30.911373507), (-19.908083525, -25.432708758))
            ThreePointArc((-19.908083525, -25.432708758), (-12.359871941, -29.839370469), (-3.906499965, -32.060781687))
            Line((-3.906499965, -32.060781687), (-3.906499965, -39.808783679))
        make_face(mode=Mode.SUBTRACT)
        with BuildLine():
            ThreePointArc((-32.060781687, -3.906499965), (-29.839370469, -12.359871941), (-25.432708758, -19.908083525))
            Line((-25.432708758, -19.908083525), (-30.911373507, -25.386748274))
            ThreePointArc((-30.911373507, -25.386748274), (-36.9551813, -15.307337295), (-39.808783679, -3.906499965))
            Line((-39.808783679, -3.906499965), (-32.060781687, -3.906499965))
        make_face(mode=Mode.SUBTRACT)
        Circle(SKETCH1_R, mode=Mode.SUBTRACT)
    extrude(amount=BOSS_EXTRUDE1_DEPTH)


with BuildPart() as body_2:
    # Sketch1 → Boss-Extrude1 2 (new body)
    with BuildSketch(Plane.XY):
        Circle(SKETCH1_R_2)
        with BuildLine():
            ThreePointArc((9.4e-08, -90), (-34.441508839, -83.149157957), (-63.639610261, -63.639610353))
            ThreePointArc((-63.639610261, -63.639610353), (-83.149157943, -34.441508873), (-90, 1.52e-07))
            ThreePointArc((-90, 1.52e-07), (-83.149157926, 34.441508913), (-63.639610415, 63.639610199))
            ThreePointArc((-63.639610415, 63.639610199), (-34.441508983, 83.149157897), (0, 90))
            ThreePointArc((0, 90), (34.441508913, 83.149157926), (63.639610307, 63.639610307))
            ThreePointArc((63.639610307, 63.639610307), (83.149157926, 34.441508913), (90, 0))
            ThreePointArc((90, 0), (83.149157914, -34.441508942), (63.639610262, -63.639610352))
            ThreePointArc((63.639610262, -63.639610352), (34.441508927, -83.14915792), (9.4e-08, -90))
        make_face(mode=Mode.SUBTRACT)
    extrude(amount=BOSS_EXTRUDE1_2_DEPTH)


solid = Compound([part.part, body_2.part])
